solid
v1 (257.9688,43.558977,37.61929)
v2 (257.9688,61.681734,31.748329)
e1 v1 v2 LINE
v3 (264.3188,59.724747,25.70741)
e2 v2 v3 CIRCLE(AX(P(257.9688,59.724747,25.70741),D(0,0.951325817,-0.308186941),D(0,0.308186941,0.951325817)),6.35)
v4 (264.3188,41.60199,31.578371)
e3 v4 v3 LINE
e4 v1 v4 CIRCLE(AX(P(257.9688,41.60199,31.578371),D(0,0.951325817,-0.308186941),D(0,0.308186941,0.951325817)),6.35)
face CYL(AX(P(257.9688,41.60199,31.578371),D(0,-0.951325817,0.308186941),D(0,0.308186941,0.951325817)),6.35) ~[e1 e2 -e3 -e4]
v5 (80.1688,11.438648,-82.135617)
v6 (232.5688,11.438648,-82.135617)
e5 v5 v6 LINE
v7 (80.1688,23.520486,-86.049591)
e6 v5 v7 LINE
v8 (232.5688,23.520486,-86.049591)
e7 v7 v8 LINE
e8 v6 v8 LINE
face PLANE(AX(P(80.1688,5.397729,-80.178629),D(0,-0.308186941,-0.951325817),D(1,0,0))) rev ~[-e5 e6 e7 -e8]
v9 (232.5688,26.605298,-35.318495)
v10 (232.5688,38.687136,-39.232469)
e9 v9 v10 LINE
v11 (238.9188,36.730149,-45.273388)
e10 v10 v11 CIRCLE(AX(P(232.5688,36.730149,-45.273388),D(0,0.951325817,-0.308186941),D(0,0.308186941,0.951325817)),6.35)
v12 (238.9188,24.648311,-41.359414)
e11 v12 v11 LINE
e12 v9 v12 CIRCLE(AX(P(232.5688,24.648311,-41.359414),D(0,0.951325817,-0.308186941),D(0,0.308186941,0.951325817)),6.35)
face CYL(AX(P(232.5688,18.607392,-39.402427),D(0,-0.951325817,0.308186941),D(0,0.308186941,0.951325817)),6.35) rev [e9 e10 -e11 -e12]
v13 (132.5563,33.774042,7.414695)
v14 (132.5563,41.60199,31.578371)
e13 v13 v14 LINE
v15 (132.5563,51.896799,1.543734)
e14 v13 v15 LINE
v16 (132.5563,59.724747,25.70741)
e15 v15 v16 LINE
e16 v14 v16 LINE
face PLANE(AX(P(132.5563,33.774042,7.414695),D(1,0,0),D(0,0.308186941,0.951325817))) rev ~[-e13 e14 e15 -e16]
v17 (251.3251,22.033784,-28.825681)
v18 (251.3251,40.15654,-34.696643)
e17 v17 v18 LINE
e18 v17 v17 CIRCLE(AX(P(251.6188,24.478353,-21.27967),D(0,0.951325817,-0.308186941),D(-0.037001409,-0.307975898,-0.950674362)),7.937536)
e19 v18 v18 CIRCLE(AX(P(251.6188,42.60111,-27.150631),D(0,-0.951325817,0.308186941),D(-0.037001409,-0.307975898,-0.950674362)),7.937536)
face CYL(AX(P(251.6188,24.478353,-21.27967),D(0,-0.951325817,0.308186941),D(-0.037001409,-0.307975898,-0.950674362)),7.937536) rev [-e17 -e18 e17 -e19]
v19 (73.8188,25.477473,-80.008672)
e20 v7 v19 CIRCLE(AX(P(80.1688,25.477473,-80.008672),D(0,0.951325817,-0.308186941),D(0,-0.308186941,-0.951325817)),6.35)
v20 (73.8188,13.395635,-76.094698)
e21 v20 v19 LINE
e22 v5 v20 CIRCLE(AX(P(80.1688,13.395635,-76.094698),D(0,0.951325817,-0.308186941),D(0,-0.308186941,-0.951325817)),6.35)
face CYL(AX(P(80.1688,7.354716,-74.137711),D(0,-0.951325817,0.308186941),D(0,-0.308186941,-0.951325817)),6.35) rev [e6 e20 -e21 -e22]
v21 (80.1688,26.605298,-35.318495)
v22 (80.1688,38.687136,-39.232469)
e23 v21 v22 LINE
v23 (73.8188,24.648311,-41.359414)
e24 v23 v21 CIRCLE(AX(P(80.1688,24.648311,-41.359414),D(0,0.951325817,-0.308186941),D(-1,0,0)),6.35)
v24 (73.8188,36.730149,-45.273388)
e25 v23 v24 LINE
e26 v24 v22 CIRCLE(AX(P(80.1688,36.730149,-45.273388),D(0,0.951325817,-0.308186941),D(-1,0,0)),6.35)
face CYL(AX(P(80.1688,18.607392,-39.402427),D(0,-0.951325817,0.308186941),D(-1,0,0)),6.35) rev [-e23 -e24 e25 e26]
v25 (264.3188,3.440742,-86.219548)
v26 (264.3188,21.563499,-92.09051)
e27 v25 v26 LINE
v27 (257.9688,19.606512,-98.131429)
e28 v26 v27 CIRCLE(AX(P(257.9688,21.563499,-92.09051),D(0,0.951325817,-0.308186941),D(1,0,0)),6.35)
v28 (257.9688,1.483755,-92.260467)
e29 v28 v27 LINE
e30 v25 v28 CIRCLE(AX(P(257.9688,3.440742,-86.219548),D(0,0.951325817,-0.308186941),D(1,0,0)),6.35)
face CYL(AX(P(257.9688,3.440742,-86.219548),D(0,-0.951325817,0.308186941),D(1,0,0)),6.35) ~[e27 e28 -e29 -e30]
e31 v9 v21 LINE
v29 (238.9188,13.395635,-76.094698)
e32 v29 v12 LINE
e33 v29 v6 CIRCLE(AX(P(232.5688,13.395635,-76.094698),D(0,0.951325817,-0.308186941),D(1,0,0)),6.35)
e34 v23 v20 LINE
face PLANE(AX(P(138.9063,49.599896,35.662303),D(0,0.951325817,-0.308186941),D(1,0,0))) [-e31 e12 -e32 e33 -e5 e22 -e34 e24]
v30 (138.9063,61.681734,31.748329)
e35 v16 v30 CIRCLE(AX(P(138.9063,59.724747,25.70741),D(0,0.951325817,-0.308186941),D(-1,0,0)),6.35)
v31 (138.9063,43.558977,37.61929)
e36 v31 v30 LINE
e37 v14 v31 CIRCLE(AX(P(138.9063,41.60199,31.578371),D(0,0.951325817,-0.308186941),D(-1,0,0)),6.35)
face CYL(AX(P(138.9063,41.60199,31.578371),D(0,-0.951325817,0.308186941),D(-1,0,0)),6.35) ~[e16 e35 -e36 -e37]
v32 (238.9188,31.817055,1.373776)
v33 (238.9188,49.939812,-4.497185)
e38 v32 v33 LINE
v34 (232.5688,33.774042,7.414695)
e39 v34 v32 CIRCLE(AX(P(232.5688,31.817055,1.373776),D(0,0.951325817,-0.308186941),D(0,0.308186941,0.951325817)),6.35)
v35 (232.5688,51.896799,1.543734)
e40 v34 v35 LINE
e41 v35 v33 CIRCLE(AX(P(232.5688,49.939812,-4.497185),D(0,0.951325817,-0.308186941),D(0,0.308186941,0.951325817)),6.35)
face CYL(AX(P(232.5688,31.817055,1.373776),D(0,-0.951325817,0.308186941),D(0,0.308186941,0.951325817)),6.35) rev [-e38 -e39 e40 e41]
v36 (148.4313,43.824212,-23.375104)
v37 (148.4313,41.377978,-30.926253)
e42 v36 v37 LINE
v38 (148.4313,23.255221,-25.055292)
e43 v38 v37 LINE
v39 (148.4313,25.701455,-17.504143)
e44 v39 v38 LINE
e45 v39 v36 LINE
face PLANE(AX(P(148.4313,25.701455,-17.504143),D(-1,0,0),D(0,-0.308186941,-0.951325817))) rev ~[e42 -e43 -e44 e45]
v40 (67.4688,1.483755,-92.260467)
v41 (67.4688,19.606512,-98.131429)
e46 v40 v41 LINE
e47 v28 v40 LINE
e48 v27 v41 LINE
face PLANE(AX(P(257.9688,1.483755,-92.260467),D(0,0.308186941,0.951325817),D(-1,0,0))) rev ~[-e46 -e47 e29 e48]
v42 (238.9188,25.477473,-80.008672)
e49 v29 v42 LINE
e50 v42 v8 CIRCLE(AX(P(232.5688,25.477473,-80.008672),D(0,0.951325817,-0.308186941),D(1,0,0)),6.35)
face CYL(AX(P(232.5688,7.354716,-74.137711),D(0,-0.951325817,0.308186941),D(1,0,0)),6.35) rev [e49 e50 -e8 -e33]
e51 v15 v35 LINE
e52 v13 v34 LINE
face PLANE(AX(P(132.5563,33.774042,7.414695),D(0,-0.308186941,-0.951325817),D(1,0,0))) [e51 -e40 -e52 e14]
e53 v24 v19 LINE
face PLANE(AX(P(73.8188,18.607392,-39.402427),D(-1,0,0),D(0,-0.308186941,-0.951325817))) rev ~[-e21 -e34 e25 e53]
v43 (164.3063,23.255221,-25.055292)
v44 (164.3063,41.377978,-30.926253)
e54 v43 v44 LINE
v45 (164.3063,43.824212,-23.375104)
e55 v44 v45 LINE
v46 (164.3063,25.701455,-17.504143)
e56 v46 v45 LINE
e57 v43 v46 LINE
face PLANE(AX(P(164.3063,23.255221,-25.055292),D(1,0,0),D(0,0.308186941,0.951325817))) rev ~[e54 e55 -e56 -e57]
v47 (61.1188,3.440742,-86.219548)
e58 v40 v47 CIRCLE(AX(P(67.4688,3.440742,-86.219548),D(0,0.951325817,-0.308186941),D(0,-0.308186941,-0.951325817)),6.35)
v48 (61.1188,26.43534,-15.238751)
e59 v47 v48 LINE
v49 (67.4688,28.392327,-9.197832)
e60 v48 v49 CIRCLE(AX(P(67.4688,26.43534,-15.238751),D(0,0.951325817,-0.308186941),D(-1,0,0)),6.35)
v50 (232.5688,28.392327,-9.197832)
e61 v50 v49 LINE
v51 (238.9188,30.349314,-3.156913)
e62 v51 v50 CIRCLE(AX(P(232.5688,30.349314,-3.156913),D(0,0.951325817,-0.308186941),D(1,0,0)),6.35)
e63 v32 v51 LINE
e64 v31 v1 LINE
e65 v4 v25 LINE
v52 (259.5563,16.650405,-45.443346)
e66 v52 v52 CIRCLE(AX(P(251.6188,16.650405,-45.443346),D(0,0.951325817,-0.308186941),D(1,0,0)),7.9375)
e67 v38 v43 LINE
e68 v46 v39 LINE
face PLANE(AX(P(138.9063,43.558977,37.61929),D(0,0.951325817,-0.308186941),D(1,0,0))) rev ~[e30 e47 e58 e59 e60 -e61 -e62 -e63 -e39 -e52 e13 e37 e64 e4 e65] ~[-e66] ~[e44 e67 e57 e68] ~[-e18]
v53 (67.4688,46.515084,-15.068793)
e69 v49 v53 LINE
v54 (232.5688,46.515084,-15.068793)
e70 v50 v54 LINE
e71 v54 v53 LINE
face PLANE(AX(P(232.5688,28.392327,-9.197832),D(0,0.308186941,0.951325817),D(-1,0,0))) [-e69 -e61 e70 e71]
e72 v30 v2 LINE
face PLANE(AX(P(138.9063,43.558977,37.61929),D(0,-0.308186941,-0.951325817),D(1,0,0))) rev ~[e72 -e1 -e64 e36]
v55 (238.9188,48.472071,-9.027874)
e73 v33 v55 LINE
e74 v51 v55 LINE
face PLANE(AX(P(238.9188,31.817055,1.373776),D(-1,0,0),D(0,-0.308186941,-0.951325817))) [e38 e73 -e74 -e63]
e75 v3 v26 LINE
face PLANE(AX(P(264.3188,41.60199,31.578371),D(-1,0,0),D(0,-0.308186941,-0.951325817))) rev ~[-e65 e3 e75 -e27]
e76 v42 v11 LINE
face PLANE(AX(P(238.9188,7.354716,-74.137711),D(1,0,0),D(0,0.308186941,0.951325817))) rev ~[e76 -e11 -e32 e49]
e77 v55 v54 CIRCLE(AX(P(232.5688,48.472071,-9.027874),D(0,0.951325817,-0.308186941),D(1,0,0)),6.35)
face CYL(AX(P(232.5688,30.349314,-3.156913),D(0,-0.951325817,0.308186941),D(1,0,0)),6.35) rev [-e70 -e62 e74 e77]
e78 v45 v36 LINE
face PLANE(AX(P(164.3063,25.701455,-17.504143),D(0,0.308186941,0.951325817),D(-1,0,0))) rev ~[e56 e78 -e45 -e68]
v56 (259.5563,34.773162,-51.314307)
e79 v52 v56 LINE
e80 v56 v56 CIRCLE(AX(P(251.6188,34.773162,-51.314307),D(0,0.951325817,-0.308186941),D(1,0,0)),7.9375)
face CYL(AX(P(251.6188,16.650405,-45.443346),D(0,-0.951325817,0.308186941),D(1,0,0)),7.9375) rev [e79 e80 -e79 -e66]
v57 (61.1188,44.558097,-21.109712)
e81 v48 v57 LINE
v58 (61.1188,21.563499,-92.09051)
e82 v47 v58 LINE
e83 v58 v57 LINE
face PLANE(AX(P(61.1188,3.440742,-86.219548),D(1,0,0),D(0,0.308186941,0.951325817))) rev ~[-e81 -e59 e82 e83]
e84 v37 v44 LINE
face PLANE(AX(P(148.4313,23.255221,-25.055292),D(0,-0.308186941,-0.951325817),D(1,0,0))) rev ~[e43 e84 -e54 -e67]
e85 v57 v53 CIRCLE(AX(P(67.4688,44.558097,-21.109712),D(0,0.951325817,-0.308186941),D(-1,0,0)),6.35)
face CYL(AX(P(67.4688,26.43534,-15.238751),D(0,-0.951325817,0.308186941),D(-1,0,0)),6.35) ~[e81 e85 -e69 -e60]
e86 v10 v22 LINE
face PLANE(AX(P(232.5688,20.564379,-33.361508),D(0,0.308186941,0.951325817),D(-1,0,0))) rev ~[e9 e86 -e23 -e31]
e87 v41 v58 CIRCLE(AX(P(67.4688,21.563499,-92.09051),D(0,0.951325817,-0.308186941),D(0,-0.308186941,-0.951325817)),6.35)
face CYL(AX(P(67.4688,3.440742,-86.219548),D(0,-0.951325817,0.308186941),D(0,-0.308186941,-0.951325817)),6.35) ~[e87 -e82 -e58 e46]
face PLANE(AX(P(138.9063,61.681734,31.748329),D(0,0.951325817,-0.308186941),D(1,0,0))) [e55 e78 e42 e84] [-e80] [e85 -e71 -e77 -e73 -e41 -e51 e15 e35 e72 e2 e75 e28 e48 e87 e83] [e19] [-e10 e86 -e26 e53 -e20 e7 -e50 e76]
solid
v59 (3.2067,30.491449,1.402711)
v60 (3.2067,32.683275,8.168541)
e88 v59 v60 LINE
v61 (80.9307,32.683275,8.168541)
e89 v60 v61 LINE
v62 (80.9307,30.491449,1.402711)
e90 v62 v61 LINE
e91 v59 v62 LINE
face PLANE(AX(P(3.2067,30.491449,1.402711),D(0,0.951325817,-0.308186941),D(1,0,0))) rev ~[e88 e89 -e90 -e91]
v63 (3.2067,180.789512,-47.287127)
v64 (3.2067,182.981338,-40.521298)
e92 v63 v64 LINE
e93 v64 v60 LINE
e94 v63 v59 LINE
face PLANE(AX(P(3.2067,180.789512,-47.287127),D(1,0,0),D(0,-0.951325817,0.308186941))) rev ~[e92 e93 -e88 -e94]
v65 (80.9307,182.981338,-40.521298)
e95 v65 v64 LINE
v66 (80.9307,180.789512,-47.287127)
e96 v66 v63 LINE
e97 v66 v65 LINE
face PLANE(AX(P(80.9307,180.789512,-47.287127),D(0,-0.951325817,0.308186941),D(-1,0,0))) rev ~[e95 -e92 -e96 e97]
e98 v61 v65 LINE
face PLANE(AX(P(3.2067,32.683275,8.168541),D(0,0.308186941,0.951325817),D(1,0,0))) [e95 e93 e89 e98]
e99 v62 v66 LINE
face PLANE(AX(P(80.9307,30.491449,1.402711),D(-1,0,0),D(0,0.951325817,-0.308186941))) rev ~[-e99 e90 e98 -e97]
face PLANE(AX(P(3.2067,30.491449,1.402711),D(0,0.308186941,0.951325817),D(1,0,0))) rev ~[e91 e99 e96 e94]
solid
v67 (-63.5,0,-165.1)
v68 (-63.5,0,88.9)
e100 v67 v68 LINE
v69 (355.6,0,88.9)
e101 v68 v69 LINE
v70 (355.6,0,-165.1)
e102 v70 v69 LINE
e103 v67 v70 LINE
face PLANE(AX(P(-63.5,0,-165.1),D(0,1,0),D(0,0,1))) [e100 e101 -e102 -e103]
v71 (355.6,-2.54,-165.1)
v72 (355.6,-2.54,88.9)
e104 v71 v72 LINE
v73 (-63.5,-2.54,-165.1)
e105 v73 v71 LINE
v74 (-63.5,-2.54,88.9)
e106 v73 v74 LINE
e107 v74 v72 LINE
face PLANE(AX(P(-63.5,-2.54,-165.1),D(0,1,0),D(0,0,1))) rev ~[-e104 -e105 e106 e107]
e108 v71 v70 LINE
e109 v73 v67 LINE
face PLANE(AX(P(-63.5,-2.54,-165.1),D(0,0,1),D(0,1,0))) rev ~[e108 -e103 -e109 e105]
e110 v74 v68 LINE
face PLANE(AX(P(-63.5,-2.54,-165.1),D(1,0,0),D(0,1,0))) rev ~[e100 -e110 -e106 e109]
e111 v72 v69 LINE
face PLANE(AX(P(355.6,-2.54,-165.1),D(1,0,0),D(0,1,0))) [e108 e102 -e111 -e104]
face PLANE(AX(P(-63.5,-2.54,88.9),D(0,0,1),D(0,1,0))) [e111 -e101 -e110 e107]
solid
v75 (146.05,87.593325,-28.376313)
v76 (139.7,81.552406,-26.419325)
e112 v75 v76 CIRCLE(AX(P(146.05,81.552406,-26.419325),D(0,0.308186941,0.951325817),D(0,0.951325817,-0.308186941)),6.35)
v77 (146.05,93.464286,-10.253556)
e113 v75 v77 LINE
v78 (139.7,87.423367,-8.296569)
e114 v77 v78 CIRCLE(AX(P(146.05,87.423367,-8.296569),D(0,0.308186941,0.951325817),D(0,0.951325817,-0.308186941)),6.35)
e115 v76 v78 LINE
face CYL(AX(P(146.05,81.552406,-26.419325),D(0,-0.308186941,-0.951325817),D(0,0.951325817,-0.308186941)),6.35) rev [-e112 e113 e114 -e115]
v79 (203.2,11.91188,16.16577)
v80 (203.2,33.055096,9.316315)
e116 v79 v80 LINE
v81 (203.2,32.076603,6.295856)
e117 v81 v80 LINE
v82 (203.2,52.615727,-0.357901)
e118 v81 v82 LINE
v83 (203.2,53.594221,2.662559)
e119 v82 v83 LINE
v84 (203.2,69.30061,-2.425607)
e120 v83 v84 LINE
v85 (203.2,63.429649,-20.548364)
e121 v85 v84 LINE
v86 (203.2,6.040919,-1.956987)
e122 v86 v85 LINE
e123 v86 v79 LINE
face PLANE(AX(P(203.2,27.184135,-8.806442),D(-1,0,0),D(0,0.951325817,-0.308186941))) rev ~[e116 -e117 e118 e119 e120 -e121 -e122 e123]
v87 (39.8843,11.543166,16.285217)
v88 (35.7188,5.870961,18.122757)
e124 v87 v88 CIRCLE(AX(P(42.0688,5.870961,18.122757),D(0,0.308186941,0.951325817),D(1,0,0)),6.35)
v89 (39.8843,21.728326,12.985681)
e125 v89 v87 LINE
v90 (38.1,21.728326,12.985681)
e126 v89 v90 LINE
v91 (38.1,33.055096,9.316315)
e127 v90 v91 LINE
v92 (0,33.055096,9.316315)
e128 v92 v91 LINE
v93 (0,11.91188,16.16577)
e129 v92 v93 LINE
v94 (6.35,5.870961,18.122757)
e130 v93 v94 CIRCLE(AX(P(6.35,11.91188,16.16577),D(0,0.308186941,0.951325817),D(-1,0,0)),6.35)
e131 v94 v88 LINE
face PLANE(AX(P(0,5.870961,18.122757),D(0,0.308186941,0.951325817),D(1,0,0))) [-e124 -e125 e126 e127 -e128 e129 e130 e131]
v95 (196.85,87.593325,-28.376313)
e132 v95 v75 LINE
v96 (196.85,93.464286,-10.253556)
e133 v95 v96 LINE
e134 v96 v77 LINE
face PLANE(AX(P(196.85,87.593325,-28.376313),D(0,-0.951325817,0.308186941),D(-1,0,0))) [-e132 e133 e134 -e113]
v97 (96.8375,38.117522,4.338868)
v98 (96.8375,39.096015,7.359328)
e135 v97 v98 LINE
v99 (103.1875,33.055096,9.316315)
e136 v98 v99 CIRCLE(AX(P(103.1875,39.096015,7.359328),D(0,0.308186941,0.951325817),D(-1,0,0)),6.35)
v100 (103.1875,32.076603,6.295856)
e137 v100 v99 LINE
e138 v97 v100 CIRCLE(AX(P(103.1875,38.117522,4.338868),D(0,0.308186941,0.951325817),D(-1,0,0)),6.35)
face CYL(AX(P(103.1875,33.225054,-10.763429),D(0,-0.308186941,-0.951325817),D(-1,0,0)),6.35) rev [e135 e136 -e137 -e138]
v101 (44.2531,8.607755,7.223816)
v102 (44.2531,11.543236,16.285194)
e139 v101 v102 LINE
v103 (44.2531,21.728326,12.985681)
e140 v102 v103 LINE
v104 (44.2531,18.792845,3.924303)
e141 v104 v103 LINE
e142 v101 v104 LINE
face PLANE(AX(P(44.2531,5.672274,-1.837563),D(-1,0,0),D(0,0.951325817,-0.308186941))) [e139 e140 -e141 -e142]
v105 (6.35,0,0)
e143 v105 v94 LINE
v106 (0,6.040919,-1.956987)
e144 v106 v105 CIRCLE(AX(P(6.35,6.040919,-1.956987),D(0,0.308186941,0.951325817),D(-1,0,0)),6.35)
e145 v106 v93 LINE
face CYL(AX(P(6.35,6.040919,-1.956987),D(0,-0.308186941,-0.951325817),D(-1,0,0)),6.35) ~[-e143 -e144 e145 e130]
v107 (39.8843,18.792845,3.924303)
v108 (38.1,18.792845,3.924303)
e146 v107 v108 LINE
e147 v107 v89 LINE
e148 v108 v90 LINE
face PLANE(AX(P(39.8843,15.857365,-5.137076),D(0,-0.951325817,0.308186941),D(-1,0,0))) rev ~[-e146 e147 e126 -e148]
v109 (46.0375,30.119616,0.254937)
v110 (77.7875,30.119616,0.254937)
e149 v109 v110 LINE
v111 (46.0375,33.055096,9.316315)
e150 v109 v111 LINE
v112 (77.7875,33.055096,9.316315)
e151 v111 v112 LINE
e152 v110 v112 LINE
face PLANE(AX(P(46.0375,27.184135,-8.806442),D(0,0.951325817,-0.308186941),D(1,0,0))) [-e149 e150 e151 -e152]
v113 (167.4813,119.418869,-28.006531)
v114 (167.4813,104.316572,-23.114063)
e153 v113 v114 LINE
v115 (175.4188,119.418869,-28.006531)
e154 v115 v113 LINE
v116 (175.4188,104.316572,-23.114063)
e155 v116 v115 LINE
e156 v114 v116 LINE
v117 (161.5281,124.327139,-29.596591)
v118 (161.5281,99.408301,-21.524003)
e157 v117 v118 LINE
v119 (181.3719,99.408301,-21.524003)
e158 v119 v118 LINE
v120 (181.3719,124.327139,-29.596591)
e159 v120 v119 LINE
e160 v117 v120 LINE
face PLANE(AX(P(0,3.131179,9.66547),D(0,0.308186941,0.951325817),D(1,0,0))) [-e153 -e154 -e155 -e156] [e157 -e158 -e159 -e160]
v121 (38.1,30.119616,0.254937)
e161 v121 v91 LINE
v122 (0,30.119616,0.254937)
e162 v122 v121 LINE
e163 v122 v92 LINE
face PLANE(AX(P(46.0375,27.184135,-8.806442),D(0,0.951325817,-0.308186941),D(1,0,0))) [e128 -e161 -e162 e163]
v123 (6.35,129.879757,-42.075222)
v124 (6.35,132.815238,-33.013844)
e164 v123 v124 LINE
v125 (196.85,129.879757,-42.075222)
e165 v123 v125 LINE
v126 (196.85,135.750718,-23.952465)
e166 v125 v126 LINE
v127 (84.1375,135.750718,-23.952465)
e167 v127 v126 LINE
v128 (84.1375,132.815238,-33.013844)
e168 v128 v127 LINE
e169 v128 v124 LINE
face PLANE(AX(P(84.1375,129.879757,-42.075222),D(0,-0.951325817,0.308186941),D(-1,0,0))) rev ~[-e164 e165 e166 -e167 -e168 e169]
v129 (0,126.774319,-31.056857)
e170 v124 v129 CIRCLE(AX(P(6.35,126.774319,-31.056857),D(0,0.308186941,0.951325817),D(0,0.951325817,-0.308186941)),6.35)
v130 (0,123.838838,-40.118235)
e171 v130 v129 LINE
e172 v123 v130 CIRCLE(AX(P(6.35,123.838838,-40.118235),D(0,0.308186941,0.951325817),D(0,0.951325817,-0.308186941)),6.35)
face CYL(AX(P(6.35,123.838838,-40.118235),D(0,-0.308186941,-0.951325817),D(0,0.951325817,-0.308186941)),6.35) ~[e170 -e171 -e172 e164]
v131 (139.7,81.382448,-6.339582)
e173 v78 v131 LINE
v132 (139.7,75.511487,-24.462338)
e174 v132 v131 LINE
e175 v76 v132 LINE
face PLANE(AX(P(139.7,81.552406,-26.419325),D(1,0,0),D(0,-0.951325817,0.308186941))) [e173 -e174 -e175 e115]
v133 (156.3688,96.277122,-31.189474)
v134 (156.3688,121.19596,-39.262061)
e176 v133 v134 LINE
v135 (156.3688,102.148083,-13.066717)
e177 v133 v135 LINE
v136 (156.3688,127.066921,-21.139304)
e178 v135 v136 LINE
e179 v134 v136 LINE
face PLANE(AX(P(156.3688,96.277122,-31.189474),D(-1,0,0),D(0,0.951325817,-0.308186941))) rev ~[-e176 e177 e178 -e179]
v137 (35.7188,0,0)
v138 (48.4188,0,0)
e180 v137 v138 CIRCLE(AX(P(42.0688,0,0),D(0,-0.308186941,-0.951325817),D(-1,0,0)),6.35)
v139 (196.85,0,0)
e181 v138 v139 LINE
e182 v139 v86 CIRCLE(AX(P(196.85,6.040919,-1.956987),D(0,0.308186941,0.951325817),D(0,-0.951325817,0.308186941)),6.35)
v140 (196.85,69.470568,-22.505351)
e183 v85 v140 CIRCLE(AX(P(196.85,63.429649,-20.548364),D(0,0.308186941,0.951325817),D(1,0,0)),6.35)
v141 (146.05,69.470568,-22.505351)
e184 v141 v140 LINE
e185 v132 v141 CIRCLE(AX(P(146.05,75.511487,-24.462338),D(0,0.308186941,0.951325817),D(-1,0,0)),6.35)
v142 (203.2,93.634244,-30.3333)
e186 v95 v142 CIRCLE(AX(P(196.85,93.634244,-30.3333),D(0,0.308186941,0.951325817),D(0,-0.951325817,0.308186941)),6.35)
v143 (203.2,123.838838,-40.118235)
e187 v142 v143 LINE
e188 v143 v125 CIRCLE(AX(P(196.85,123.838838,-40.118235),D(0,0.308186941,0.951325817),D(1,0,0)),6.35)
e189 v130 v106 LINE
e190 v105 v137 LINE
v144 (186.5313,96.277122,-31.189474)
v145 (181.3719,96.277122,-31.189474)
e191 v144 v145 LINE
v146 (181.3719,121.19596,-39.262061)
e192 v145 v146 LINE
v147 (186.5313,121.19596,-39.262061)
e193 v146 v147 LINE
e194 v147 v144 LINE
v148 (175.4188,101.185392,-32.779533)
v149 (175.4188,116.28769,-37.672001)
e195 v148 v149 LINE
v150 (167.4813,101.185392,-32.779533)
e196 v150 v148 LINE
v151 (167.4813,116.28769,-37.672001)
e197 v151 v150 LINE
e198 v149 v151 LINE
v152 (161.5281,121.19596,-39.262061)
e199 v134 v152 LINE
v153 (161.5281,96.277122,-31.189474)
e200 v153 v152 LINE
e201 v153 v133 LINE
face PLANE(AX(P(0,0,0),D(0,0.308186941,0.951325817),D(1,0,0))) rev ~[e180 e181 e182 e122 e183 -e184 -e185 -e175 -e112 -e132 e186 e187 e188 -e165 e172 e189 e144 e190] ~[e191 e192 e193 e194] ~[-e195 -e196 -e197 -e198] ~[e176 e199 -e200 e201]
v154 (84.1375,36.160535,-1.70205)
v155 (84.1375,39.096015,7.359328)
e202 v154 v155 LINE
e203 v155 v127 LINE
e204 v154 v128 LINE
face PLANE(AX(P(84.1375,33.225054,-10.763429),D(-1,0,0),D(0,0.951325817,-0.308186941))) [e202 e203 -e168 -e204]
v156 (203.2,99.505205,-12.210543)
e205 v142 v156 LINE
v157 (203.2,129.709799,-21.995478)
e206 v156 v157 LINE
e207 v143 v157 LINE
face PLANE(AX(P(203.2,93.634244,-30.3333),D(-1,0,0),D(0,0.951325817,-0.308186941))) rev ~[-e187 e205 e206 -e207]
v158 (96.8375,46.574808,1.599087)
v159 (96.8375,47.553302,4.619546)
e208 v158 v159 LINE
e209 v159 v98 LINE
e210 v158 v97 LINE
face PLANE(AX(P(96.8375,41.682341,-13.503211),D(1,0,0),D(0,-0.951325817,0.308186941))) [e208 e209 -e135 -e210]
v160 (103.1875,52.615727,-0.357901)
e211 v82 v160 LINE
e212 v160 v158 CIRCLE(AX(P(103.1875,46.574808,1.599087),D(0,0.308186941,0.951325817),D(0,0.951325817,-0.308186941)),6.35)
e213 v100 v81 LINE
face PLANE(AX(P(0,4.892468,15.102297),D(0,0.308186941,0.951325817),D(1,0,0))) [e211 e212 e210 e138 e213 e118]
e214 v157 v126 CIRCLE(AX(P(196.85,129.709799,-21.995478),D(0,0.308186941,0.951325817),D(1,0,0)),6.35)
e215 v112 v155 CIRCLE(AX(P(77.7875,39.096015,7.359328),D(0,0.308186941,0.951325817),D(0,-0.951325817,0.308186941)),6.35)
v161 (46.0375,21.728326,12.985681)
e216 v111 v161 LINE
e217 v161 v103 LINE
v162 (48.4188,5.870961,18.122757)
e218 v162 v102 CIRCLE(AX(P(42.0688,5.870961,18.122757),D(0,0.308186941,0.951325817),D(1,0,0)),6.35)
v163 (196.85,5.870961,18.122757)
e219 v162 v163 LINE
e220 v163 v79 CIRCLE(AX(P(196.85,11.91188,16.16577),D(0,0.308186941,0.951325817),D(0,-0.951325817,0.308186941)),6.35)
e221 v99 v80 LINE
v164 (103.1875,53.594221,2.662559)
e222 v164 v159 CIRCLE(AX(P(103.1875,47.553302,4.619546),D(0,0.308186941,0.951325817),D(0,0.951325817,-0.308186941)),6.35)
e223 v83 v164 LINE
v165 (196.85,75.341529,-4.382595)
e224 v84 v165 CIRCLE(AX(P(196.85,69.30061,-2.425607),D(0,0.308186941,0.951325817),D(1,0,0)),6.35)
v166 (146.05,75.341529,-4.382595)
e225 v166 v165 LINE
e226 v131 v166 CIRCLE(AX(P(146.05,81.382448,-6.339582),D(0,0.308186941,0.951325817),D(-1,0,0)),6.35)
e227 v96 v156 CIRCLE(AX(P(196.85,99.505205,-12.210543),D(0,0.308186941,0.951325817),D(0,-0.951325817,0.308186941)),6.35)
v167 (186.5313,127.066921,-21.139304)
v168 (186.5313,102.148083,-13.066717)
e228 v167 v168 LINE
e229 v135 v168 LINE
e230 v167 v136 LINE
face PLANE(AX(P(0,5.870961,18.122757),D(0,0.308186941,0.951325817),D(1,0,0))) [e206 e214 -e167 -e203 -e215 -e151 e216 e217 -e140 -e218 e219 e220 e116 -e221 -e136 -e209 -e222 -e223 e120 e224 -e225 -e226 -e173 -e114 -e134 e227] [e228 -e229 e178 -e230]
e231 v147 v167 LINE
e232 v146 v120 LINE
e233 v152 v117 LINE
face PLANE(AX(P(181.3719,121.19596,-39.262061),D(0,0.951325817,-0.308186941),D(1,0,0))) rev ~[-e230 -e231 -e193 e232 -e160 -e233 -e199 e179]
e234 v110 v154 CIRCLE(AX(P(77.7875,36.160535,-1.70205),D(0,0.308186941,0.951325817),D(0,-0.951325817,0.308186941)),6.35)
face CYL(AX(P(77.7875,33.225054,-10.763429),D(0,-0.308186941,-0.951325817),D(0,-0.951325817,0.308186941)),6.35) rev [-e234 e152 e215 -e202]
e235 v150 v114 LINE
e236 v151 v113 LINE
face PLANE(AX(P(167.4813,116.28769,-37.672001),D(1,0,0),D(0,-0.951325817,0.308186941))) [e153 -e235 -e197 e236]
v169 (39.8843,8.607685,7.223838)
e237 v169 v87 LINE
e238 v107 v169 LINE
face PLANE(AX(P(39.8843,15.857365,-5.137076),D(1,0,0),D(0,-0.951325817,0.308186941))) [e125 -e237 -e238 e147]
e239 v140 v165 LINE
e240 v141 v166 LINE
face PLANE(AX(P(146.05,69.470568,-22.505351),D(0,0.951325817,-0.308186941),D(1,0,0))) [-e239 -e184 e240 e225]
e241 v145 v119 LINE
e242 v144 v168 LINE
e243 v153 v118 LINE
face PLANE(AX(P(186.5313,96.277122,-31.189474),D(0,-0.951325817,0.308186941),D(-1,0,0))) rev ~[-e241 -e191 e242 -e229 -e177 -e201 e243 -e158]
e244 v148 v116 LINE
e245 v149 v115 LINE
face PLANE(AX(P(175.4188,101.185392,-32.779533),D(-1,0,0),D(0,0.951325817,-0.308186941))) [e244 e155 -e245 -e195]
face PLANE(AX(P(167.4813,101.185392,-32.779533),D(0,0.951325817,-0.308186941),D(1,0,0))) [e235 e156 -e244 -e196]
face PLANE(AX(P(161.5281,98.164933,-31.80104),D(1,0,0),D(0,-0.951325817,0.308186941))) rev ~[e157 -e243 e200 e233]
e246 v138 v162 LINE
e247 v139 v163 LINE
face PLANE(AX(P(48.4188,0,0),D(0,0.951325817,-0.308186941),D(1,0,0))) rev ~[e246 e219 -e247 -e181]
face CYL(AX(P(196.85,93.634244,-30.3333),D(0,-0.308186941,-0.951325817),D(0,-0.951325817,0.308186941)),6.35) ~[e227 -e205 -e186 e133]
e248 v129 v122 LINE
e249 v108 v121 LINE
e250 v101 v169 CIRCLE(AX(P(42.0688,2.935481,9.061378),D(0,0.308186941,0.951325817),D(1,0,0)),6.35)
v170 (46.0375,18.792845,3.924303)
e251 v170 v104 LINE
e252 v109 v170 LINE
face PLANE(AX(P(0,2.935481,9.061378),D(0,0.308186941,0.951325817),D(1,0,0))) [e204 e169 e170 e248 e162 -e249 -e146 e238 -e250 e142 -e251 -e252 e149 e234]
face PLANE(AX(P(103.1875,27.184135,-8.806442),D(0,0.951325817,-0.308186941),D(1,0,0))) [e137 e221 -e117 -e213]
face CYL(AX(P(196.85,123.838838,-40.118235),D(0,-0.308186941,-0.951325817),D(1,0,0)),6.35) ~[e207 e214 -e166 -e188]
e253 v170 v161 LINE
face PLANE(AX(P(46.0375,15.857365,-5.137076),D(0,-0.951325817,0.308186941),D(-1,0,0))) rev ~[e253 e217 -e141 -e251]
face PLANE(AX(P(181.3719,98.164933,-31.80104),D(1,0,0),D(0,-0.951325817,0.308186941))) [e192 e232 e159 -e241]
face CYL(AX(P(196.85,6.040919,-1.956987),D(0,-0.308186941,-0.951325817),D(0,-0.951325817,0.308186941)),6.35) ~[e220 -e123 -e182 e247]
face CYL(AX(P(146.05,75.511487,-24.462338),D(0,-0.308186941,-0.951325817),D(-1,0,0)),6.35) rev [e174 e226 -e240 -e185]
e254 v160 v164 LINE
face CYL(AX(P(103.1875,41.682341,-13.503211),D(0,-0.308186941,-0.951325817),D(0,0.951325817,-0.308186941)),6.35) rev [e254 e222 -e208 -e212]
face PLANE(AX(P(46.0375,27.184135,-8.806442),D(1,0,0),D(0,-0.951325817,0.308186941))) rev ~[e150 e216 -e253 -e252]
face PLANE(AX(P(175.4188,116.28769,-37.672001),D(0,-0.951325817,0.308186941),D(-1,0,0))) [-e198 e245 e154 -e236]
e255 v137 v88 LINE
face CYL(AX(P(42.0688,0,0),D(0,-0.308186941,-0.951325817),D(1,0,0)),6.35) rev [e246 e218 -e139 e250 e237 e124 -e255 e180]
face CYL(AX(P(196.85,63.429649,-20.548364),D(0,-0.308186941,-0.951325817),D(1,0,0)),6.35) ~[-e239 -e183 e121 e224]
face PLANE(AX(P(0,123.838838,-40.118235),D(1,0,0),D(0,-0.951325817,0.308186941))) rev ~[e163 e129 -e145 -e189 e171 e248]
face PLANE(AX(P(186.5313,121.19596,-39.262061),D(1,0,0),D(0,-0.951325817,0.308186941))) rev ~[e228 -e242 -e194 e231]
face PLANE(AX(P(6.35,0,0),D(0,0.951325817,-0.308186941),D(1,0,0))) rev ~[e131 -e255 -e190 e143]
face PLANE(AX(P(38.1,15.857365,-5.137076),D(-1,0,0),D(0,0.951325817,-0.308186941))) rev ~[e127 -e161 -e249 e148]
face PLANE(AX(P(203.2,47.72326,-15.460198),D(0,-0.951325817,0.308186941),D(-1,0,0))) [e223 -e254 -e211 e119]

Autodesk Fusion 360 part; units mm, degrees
sketch "Face Plate Sketch" plane through (0, 0, 0) normal (0, 0, 1) x (1, 0, 0)
  line L0 (6.35, 0) -> (196.85, 0)
  line L1 (196.85, 136.525) -> (6.35, 136.525)
  line L2 (0, 130.175) -> (0, 6.35)
  line L3 (0, 28.575) -> (77.7875, 28.575)
  line L4 (84.1375, 34.925) -> (84.1375, 136.525)
  line L5 (196.85, 92.075) -> (146.05, 92.075)
  line L6 (139.7, 92.075) -> (139.7, 136.525)
  line L7 (139.7, 85.725) -> (139.7, 79.375)
  line L8 (146.05, 73.025) -> (196.85, 73.025)
  line L9 (203.2, 50.165) -> (103.1875, 50.165)
  line L10 (96.8375, 43.815) -> (96.8375, 34.925)
  line L11 (103.1875, 28.575) -> (203.2, 28.575)
  line L12 (203.2, 6.35) -> (203.2, 66.675)
  line L13 (203.2, 98.425) -> (203.2, 130.175)
  arc A0 (146.05, 92.075) -> (139.7, 85.725) centre (146.05, 85.725) ccw
  arc A1 (196.85, 92.075) -> (203.2, 98.425) centre (196.85, 98.425) ccw
  arc A2 (203.2, 130.175) -> (196.85, 136.525) centre (196.85, 130.175) ccw
  arc A3 (139.7, 79.375) -> (146.05, 73.025) centre (146.05, 79.375) ccw
  arc A4 (203.2, 66.675) -> (196.85, 73.025) centre (196.85, 66.675) ccw
  arc A5 (103.1875, 50.165) -> (96.8375, 43.815) centre (103.1875, 43.815) ccw
  arc A6 (96.8375, 34.925) -> (103.1875, 28.575) centre (103.1875, 34.925) ccw
  arc A7 (196.85, 0) -> (203.2, 6.35) centre (196.85, 6.35) ccw
  arc A8 (0, 6.35) -> (6.35, 0) centre (6.35, 6.35) ccw
  arc A9 (6.35, 136.525) -> (0, 130.175) centre (6.35, 130.175) ccw
  arc A10 (77.7875, 28.575) -> (84.1375, 34.925) centre (77.7875, 34.925) ccw
  line L14 (139.7, 114.3) -> (171.45, 114.3) construction
  line L15 (171.45, 92.075) -> (171.45, 127) construction
  line L16 (171.45, 114.3) -> (203.2, 114.3) construction
  line L17 (175.4188, 122.2375) -> (167.4813, 122.2375)
  line L18 (167.4813, 122.2375) -> (167.4813, 106.3625)
  line L19 (167.4813, 106.3625) -> (175.4188, 106.3625)
  line L20 (175.4188, 106.3625) -> (175.4188, 122.2375)
  line L21 (175.4188, 122.2375) -> (167.4813, 106.3625) construction
  line L22 (167.4813, 122.2375) -> (175.4188, 106.3625) construction
  line L23 (181.3719, 103.1875) -> (161.5281, 103.1875)
  line L24 (161.5281, 103.1875) -> (161.5281, 125.4125)
  line L25 (161.5281, 125.4125) -> (181.3719, 125.4125)
  line L26 (181.3719, 125.4125) -> (181.3719, 103.1875)
  line L27 (181.3719, 103.1875) -> (161.5281, 125.4125) construction
  line L28 (161.5281, 103.1875) -> (181.3719, 125.4125) construction
  line L29 (186.5313, 101.2031) -> (156.3688, 101.2031)
  line L30 (156.3688, 101.2031) -> (156.3688, 127.3969)
  line L31 (156.3688, 127.3969) -> (186.5313, 127.3969)
  line L32 (186.5313, 127.3969) -> (186.5313, 101.2031)
  line L33 (186.5313, 101.2031) -> (156.3688, 127.3969) construction
  line L34 (156.3688, 101.2031) -> (186.5313, 127.3969) construction
  line L35 (161.5281, 125.4125) -> (161.5281, 127.3969)
  line L36 (181.3719, 125.4125) -> (181.3719, 127.3969)
  line L37 (181.3719, 103.1875) -> (181.3719, 101.2031)
  line L38 (161.5281, 103.1875) -> (161.5281, 101.2031)
  line L39 (42.0687, 31.8116) -> (42.0687, 28.575) construction
  line L40 (38.1, 28.575) -> (46.0375, 28.575)
  line L41 (46.0375, 28.575) -> (46.0375, 16.6687)
  line L42 (46.0375, 16.6687) -> (38.1, 16.6687)
  line L43 (38.1, 16.6687) -> (38.1, 28.575)
  line L44 (44.2531, 16.6687) -> (39.8843, 16.6687)
  line L45 (39.8843, 16.6687) -> (39.8843, 5.5562)
  line L46 (39.8843, 5.5562) -> (44.2531, 5.5562)
  line L47 (44.2531, 5.5562) -> (44.2531, 16.6687)
  line L48 (40.4812, 5.5562) -> (43.6562, 5.5562)
  line L49 (43.6562, 5.5562) -> (43.6563, 0)
  line L50 (43.6563, 0) -> (40.4813, 0)
  line L51 (40.4813, 0) -> (40.4812, 5.5562)
  line L52 (40.4813, 0) -> (43.6563, 0)
  circle A11 centre (42.0688, 0) radius 6.35
  point P0 (203.2, 0)
  point P1 (84.1375, 28.575)
  point P2 (139.7, 73.025)
  point P3 (96.8375, 50.165)
  point P4 (96.8375, 28.575)
  point P5 (171.45, 114.3)
  point P6 (171.45, 114.3)
  point P7 (171.45, 114.3)
  point P8 (171.45, 114.3)
  point P9 (42.0687, 28.575)
  point P10 (42.0687, 16.6687)
  point P11 (42.0687, 16.6687)
  point P12 (42.0687, 5.5562)
  point P13 (42.0687, 5.5562)
  point P14 (42.0688, 0)
  dimension "d3" = 84.1375
  dimension "d5" = 44.45
  dimension "d6" = 19.05
  dimension "d8" = 12.7
  dimension "d9" = 21.59
  dimension "d12" = 28.575
  dimension "d13" = 25.4
  dimension "d28" = 6.35
  dimension "d29" = 6.35
  dimension "d30" = 6.35
  dimension "d31" = 6.35
  dimension "d32" = 6.35
  dimension "d33" = 6.35
  dimension "d76" = 106.3625
  dimension "d77" = 203.2
  dimension "d163" = 6.35
  dimension "d185" = 63.5
  dimension "d193" = 7.9375
  dimension "d194" = 15.875
  dimension "d195" = 19.8438
  dimension "d196" = 22.225
  dimension "d197" = 26.1938
  dimension "d198" = 30.1625
  dimension "d202" = 7.9375
  dimension "d203" = 11.9062
  dimension "d204" = 11.1125
  dimension "d205" = 4.3688
  dimension "d206" = 3.175
  dimension "d220" = 12.7
  dimension "d224" = 136.525
extrude "Extrude1" add sketch "Face Plate Sketch" along normal blind 19.05 contours L0 L2 L3 A8 L42 L43 L45 A11 | L0 L1 L3 L4 L5 L7 L8 L9 L10 L11 L12 L13 A0 A1 A2 A3 A4 A5 A6 A7 A10 L41 L42 L47 A11 makes body 1 at (108.7286, 91.0847, 0) makes body 2 at (12.7, 17.1979, 0) in component "Face Plate"
extrude "Extrude6" add sketch "Face Plate Sketch" along normal blind 9.525 contours L42 L44 L45 L47 A11 | L3 L40 L41 L42 L43 L44 bodies 1 2 in component "Face Plate"
extrude "Extrude2" add sketch "Face Plate Sketch" along normal blind 15.875 contours L9 L10 L11 L12 A5 A6 bodies 1 in component "Face Plate"
extrude "Extrude4" add sketch "Face Plate Sketch" along normal blind 9.525 contours L1 L2 L3 L4 A9 A10 L40 bodies 1 in component "Face Plate"
extrude "Extrude5" add sketch "Face Plate Sketch" along normal blind 10.16 contours L23 L29 L37 L38 | L23 L24 L25 L26 | L25 L31 L35 L36 bodies 1 in component "Face Plate"
sketch "iPhone" plane through (0, 0, 0) normal (0, 0, 1) x (1, 0, 0)
  line L0 (0, 0) -> (77.724, 0)
  line L1 (77.724, 0) -> (77.724, 157.988)
  line L2 (77.724, 157.988) -> (0, 157.988)
  line L3 (0, 157.988) -> (0, 0)
  dimension "d49" = 157.988
  dimension "d50" = 77.724
extrude "Extrude1'" add sketch "iPhone" along normal blind 7.112 separate body makes body 3 in component "iPhone"
sketch "Base Plate Sketch" plane through (0, 0, 0) normal (0, 1, 0) x (1, 0, 0)
  line L0 (0, 0) -> (119.0625, 0)
  line L1 (125.4125, 6.35) -> (125.4125, 130.175)
  line L2 (119.0625, 136.525) -> (-71.4375, 136.525)
  line L3 (-6.35, 31.75) -> (93.6625, 31.75)
  line L4 (100.0125, 38.1) -> (100.0125, 42.8625)
  line L5 (93.6625, 49.2125) -> (-71.4375, 49.2125)
  arc A0 (93.6625, 31.75) -> (100.0125, 38.1) centre (93.6625, 38.1) ccw
  arc A1 (100.0125, 42.8625) -> (93.6625, 49.2125) centre (93.6625, 42.8625) ccw
  line L6 (-77.7875, 130.175) -> (-77.7875, 55.5625)
  line L7 (-6.35, 31.75) -> (-6.35, 6.35)
  circle A2 centre (112.7125, 87.3125) radius 7.9375
  arc A3 (-6.35, 6.35) -> (0, 0) centre (0, 6.35) ccw
  arc A4 (119.0625, 0) -> (125.4125, 6.35) centre (119.0625, 6.35) ccw
  arc A5 (125.4125, 130.175) -> (119.0625, 136.525) centre (119.0625, 130.175) ccw
  arc A6 (-71.4375, 136.525) -> (-77.7875, 130.175) centre (-71.4375, 130.175) ccw
  arc A7 (-77.7875, 55.5625) -> (-71.4375, 49.2125) centre (-71.4375, 55.5625) ccw
  line L8 (-58.7375, 123.825) -> (93.6625, 123.825)
  line L9 (100.0125, 117.475) -> (100.0125, 80.9625)
  line L10 (93.6625, 74.6125) -> (-58.7375, 74.6125)
  line L11 (-65.0875, 80.9625) -> (-65.0875, 117.475)
  arc A8 (-58.7375, 123.825) -> (-65.0875, 117.475) centre (-58.7375, 117.475) ccw
  arc A9 (-65.0875, 80.9625) -> (-58.7375, 74.6125) centre (-58.7375, 80.9625) ccw
  arc A10 (93.6625, 74.6125) -> (100.0125, 80.9625) centre (93.6625, 80.9625) ccw
  arc A11 (100.0125, 117.475) -> (93.6625, 123.825) centre (93.6625, 117.475) ccw
  line L12 (112.7125, 61.9125) -> (112.7125, 87.3125) construction
  line L13 (9.525, 65.8813) -> (25.4, 65.8813)
  line L14 (25.4, 65.8813) -> (25.4, 57.9438)
  line L15 (25.4, 57.9438) -> (9.525, 57.9438)
  line L16 (9.525, 57.9438) -> (9.525, 65.8813)
  line L17 (17.4625, 65.8813) -> (17.4625, 74.6125) construction
  line L18 (17.4625, 57.9438) -> (17.4625, 49.2125) construction
  arc A12 (112.4188, 69.8446) -> (113.0062, 53.9804) centre (112.7125, 61.9125) ccw
  arc A13 (113.0062, 53.9804) -> (112.4188, 69.8446) centre (112.7125, 61.9125) ccw
  line L19 (85.4474, 49.2125) -> (85.4474, 74.6125) construction
  line L20 (85.4474, 61.9125) -> (125.4125, 61.9125) construction
  point P0 (125.4125, 0)
  point P1 (125.4125, 136.525)
  point P2 (-77.7875, 136.525)
  point P3 (100.0125, 31.75)
  point P4 (17.4625, 74.6125)
  point P5 (17.4625, 65.8813)
  dimension "d80" = 17.4625
  dimension "d82" = 31.75
  dimension "d83" = 6.35
  dimension "d84" = 6.35
  dimension "d114" = 136.525
  dimension "d115" = 203.2
  dimension "d116" = 25.4
  dimension "d118" = 106.3625
  dimension "d143" = 15.875
  dimension "d144" = 12.7
  dimension "d146" = 6.35
  dimension "d147" = 6.35
  dimension "d148" = 6.35
  dimension "d149" = 6.35
  dimension "d150" = 6.35
  dimension "d151" = 12.7
  dimension "d152" = 25.4
  dimension "d153" = 12.7
  dimension "d154" = 25.4
  dimension "d156" = 6.35
  dimension "d157" = 6.35
  dimension "d158" = 6.35
  dimension "d159" = 6.35
  dimension "d201" = 15.875
  dimension "d221" = 15.875
  dimension "d222" = 7.9375
  dimension "d223" = 25.4
extrude "Extrude1''" add sketch "Base Plate Sketch" along normal blind 19.05 separate body makes body 4 in component "Base Plate"
extrude "Extrude2'" add sketch "Base Plate Sketch" along normal blind 6.35 contours L8 L9 L10 L11 A8 A9 A10 A11 bodies 4 in component "Base Plate"
box "BoxPrimitive1" add length 254 width 419.1 height 2.54 placed x (0, 0, 1) y (1, 0, 0) z (0, 1, 0) at (-63.5, 0, -101.6) separate body makes body 5 in component "Valet"
copy_body "CutPasteBodies1" bodies 5 removing the originals makes body 6 in component "Ground"
sketch "Base Plate Projection" plane through (105.9656, 43.559, 37.6193) normal (0, 0.9513, -0.3082) x (1, 0, 0)
  circle A0 centre (112.7125, 61.9125) radius 7.9375
  line L0 (25.4, 57.9438) -> (9.525, 57.9438)
  line L1 (9.525, 57.9438) -> (9.525, 65.8813)
  line L2 (9.525, 65.8813) -> (25.4, 65.8813)
  line L3 (25.4, 65.8813) -> (25.4, 57.9438)
  arc A1 (93.6625, 74.6125) -> (100.0125, 80.9625) centre (93.6625, 80.9625) ccw
  line L4 (93.6625, 74.6125) -> (-58.7375, 74.6125)
  arc A2 (-65.0875, 80.9625) -> (-58.7375, 74.6125) centre (-58.7375, 80.9625) ccw
  line L5 (-65.0875, 80.9625) -> (-65.0875, 117.475)
  arc A3 (-58.7375, 123.825) -> (-65.0875, 117.475) centre (-58.7375, 117.475) ccw
  line L6 (-58.7375, 123.825) -> (93.6625, 123.825)
  arc A4 (100.0125, 117.475) -> (93.6625, 123.825) centre (93.6625, 117.475) ccw
  line L7 (100.0125, 117.475) -> (100.0125, 80.9625)
  circle A5 centre (112.7125, 87.3125) radius 7.9375
  line L8 (-6.35, 31.75) -> (-6.35, 6.35)
  arc A6 (-6.35, 6.35) -> (0, 0) centre (0, 6.35) ccw
  line L9 (0, 0) -> (119.0625, 0)
  arc A7 (119.0625, 0) -> (125.4125, 6.35) centre (119.0625, 6.35) ccw
  line L10 (125.4125, 6.35) -> (125.4125, 130.175)
  arc A8 (125.4125, 130.175) -> (119.0625, 136.525) centre (119.0625, 130.175) ccw
  line L11 (119.0625, 136.525) -> (-71.4375, 136.525)
  arc A9 (-71.4375, 136.525) -> (-77.7875, 130.175) centre (-71.4375, 130.175) ccw
  line L12 (-77.7875, 130.175) -> (-77.7875, 55.5625)
  arc A10 (-77.7875, 55.5625) -> (-71.4375, 49.2125) centre (-71.4375, 55.5625) ccw
  line L13 (-71.4375, 49.2125) -> (93.6625, 49.2125)
  arc A11 (100.0125, 42.8625) -> (93.6625, 49.2125) centre (93.6625, 42.8625) ccw
  line L14 (100.0125, 42.8625) -> (100.0125, 38.1)
  arc A12 (93.6625, 31.75) -> (100.0125, 38.1) centre (93.6625, 38.1) ccw
  line L15 (93.6625, 31.75) -> (-6.35, 31.75)
sketch "Face Plate Projection" plane through (0, 0, 0) normal (0, 0.3082, 0.9513) x (1, 0, 0)
  line L0 (156.3688, 127.3969) -> (186.5313, 127.3969)
  line L1 (186.5313, 127.3969) -> (186.5313, 101.2031)
  line L2 (186.5313, 101.2031) -> (156.3688, 101.2031)
  line L3 (156.3688, 101.2031) -> (156.3688, 127.3969)
  arc A0 (196.85, 0) -> (203.2, 6.35) centre (196.85, 6.35) ccw
  line L4 (203.2, 6.35) -> (203.2, 28.575)
  line L5 (203.2, 28.575) -> (103.1875, 28.575)
  arc A1 (96.8375, 34.925) -> (103.1875, 28.575) centre (103.1875, 34.925) ccw
  line L6 (96.8375, 34.925) -> (96.8375, 43.815)
  arc A2 (103.1875, 50.165) -> (96.8375, 43.815) centre (103.1875, 43.815) ccw
  line L7 (103.1875, 50.165) -> (203.2, 50.165)
  line L8 (203.2, 50.165) -> (203.2, 66.675)
  arc A3 (203.2, 66.675) -> (196.85, 73.025) centre (196.85, 66.675) ccw
  line L9 (196.85, 73.025) -> (146.05, 73.025)
  arc A4 (139.7, 79.375) -> (146.05, 73.025) centre (146.05, 79.375) ccw
  line L10 (139.7, 79.375) -> (139.7, 85.725)
  arc A5 (146.05, 92.075) -> (139.7, 85.725) centre (146.05, 85.725) ccw
  line L11 (146.05, 92.075) -> (196.85, 92.075)
  arc A6 (196.85, 92.075) -> (203.2, 98.425) centre (196.85, 98.425) ccw
  line L12 (203.2, 98.425) -> (203.2, 130.175)
  arc A7 (203.2, 130.175) -> (196.85, 136.525) centre (196.85, 130.175) ccw
  line L13 (196.85, 136.525) -> (84.1375, 136.525)
  line L14 (84.1375, 136.525) -> (84.1375, 34.925)
  arc A8 (77.7875, 28.575) -> (84.1375, 34.925) centre (77.7875, 34.925) ccw
  line L15 (77.7875, 28.575) -> (46.0375, 28.575)
  line L16 (46.0375, 28.575) -> (46.0375, 16.6687)
  line L17 (46.0375, 16.6687) -> (44.2531, 16.6687)
  line L18 (44.2531, 16.6687) -> (44.2531, 5.9625)
  arc A9 (48.4188, 0) -> (44.2531, 5.9625) centre (42.0688, 0) ccw
  line L19 (48.4188, 0) -> (196.85, 0)
  arc A10 (96.8375, 34.925) -> (103.1875, 28.575) centre (103.1875, 34.925) ccw
  line L20 (103.1875, 28.575) -> (203.2, 28.575)
  line L21 (203.2, 28.575) -> (203.2, 50.165)
  line L22 (203.2, 50.165) -> (103.1875, 50.165)
  arc A11 (103.1875, 50.165) -> (96.8375, 43.815) centre (103.1875, 43.815) ccw
  line L23 (96.8375, 43.815) -> (96.8375, 34.925)
  line L24 (39.8843, 16.6687) -> (39.8843, 5.9625)
  arc A12 (44.2531, 5.9625) -> (39.8843, 5.9625) centre (42.0688, 0) ccw
  line L25 (44.2531, 5.9625) -> (44.2531, 16.6687)
  line L26 (44.2531, 16.6687) -> (46.0375, 16.6687)
  line L27 (46.0375, 16.6687) -> (46.0375, 28.575)
  line L28 (46.0375, 28.575) -> (77.7875, 28.575)
  arc A13 (77.7875, 28.575) -> (84.1375, 34.925) centre (77.7875, 34.925) ccw
  line L29 (84.1375, 34.925) -> (84.1375, 136.525)
  line L30 (84.1375, 136.525) -> (6.35, 136.525)
  arc A14 (6.35, 136.525) -> (0, 130.175) centre (6.35, 130.175) ccw
  line L31 (0, 130.175) -> (0, 28.575)
  line L32 (0, 28.575) -> (38.1, 28.575)
  line L33 (38.1, 28.575) -> (38.1, 16.6687)
  line L34 (38.1, 16.6687) -> (39.8843, 16.6687)
  line L35 (38.1, 16.6687) -> (38.1, 28.575)
  line L36 (38.1, 28.575) -> (0, 28.575)
  line L37 (0, 28.575) -> (0, 6.35)
  arc A15 (0, 6.35) -> (6.35, 0) centre (6.35, 6.35) ccw
  line L38 (6.35, 0) -> (35.7188, 0)
  arc A16 (39.8843, 5.9625) -> (35.7188, 0) centre (42.0688, 0) ccw
  line L39 (39.8843, 5.9625) -> (39.8843, 16.6687)
  line L40 (39.8843, 16.6687) -> (38.1, 16.6687)
  line L41 (175.4188, 122.2375) -> (175.4188, 106.3625)
  line L42 (175.4188, 106.3625) -> (167.4813, 106.3625)
  line L43 (167.4813, 106.3625) -> (167.4813, 122.2375)
  line L44 (167.4813, 122.2375) -> (175.4188, 122.2375)
  line L45 (161.5281, 127.3969) -> (161.5281, 101.2031)
  line L46 (161.5281, 101.2031) -> (181.3719, 101.2031)
  line L47 (181.3719, 101.2031) -> (181.3719, 127.3969)
  line L48 (181.3719, 127.3969) -> (161.5281, 127.3969)
component "Valet" placed x (1, 0, 0) y (0, 0.951326, -0.308187) z (0, 0.308187, 0.951326) at (0, 0, 0)
component "Ground" placed x (1, 0, 0) y (0, 1, 0) z (0, 0, 1) at (0, -2.54, -63.5)
component "Face Plate" placed x (1, 0, 0) y (0, 1, 0) z (0, 0, 1) at (0, 0, 0) in component "Valet"
component "Base Plate" placed x (1, 0, 0) y (0, 1, 0) z (0, 0, 1) at (138.9063, 29.845, 49.2125) in component "Valet"
component "iPhone" placed x (1, 0, 0) y (0, 1, 0) z (0, 0, 1) at (3.2067, 28.575, 10.7315) in component "Valet"
equation "d3 = 3 5/16\""
equation "d6 = 3/4\""
equation "d12 = 1 1/8\""
equation "d13 = 1\""
equation "d25 = 3/4\""
equation "Fillets = 1/4\""
equation "d28 = Fillets"
equation "d29 = Fillets"
equation "d30 = Fillets"
equation "d31 = Fillets"
equation "d32 = Fillets"
equation "d33 = Fillets"
equation "d37 = 3/4\" - 1/8\""
equation "d53 = 0\""
equation "d54 = 0\""
equation "d55 = 0\""
equation "d57 = 0\""
equation "d58 = 0\""
equation "d59 = 0\""
equation "d62 = 29/32\""
equation "d63 = 0\""
equation "d64 = 0\""
equation "d65 = 0\""
equation "d66 = 0\""
equation "d67 = 0\""
equation "d69 = 0\""
equation "d70 = 0\""
equation "d71 = 0\""
equation "GrooveLen = 4 3/16\""
equation "d76 = GrooveLen"
equation "d77 = 8\""
equation "d80 = 3/4\" - 1/16\""
equation "d82 = 1 1/4\""
equation "d83 = Fillets"
equation "d84 = Fillets"
equation "d85 = ( 3 / 4 ) * 1 in"
equation "d87 = 0\""
equation "d88 = 0\""
equation "d89 = 0\""
equation "d91 = 0\""
equation "d92 = 0\""
equation "d93 = 0\""
equation "d96 = 0\""
equation "d97 = 0\""
equation "d98 = -3/4\" + 1/8\""
equation "d99 = 0\""
equation "d100 = 0\""
equation "d101 = 0\""
equation "d103 = 0\""
equation "d104 = 0\""
equation "d105 = 0\""
equation "d107 = -1 19/64\""
equation "d108 = 2 1/2\""
equation "d109 = 10\""
equation "d110 = 16 1/2\""
equation "d112 = 0\""
equation "d113 = 0\""
equation "d114 = 5.5 in - 0.125 in"
equation "d118 = GrooveLen"
equation "d119 = 0\""
equation "d120 = 0\""
equation "d121 = 0\""
equation "d123 = 0\""
equation "d124 = 0\""
equation "d125 = 0\""
equation "d128 = 0\""
equation "d129 = 0\""
equation "d130 = 0\""
equation "d132 = 0\""
equation "d133 = 0\""
equation "d134 = 0\""
equation "d144 = 1/2\""
equation "d146 = Fillets"
equation "d147 = Fillets"
equation "d148 = Fillets"
equation "d149 = Fillets"
equation "d150 = Fillets"
equation "d156 = Fillets"
equation "d157 = Fillets"
equation "d158 = Fillets"
equation "d159 = Fillets"
equation "d160 = ( 1 / 4 ) * 1 in"
equation "d163 = 1/4\""
equation "d193 = 5/16\""
equation "d194 = 5/8\""
equation "d195 = 3/4\" + 1/32\""
equation "d196 = 7/8\""
equation "d197 = 1 1/32\""
equation "d198 = 1 3/16\""
equation "d199 = 3/4\" - 0.35 in"
equation "d202 = 5/16\""
equation "d203 = 15/32\""
equation "d204 = 7/16\""
equation "d206 = 1/8\""
equation "d210 = 3/8\""
equation "d212 = 0\""
equation "d213 = 0\""
equation "d214 = 0\""
equation "d216 = 0\""
equation "d217 = 0\""
equation "d218 = 0\""
equation "d220 = 1/2\""
equation "d221 = ( 5 / 8 ) * 1 in"
equation "d222 = ( 5 / 16 ) * 1 in"
equation "d224 = 5.50 in - 0.125 in"
